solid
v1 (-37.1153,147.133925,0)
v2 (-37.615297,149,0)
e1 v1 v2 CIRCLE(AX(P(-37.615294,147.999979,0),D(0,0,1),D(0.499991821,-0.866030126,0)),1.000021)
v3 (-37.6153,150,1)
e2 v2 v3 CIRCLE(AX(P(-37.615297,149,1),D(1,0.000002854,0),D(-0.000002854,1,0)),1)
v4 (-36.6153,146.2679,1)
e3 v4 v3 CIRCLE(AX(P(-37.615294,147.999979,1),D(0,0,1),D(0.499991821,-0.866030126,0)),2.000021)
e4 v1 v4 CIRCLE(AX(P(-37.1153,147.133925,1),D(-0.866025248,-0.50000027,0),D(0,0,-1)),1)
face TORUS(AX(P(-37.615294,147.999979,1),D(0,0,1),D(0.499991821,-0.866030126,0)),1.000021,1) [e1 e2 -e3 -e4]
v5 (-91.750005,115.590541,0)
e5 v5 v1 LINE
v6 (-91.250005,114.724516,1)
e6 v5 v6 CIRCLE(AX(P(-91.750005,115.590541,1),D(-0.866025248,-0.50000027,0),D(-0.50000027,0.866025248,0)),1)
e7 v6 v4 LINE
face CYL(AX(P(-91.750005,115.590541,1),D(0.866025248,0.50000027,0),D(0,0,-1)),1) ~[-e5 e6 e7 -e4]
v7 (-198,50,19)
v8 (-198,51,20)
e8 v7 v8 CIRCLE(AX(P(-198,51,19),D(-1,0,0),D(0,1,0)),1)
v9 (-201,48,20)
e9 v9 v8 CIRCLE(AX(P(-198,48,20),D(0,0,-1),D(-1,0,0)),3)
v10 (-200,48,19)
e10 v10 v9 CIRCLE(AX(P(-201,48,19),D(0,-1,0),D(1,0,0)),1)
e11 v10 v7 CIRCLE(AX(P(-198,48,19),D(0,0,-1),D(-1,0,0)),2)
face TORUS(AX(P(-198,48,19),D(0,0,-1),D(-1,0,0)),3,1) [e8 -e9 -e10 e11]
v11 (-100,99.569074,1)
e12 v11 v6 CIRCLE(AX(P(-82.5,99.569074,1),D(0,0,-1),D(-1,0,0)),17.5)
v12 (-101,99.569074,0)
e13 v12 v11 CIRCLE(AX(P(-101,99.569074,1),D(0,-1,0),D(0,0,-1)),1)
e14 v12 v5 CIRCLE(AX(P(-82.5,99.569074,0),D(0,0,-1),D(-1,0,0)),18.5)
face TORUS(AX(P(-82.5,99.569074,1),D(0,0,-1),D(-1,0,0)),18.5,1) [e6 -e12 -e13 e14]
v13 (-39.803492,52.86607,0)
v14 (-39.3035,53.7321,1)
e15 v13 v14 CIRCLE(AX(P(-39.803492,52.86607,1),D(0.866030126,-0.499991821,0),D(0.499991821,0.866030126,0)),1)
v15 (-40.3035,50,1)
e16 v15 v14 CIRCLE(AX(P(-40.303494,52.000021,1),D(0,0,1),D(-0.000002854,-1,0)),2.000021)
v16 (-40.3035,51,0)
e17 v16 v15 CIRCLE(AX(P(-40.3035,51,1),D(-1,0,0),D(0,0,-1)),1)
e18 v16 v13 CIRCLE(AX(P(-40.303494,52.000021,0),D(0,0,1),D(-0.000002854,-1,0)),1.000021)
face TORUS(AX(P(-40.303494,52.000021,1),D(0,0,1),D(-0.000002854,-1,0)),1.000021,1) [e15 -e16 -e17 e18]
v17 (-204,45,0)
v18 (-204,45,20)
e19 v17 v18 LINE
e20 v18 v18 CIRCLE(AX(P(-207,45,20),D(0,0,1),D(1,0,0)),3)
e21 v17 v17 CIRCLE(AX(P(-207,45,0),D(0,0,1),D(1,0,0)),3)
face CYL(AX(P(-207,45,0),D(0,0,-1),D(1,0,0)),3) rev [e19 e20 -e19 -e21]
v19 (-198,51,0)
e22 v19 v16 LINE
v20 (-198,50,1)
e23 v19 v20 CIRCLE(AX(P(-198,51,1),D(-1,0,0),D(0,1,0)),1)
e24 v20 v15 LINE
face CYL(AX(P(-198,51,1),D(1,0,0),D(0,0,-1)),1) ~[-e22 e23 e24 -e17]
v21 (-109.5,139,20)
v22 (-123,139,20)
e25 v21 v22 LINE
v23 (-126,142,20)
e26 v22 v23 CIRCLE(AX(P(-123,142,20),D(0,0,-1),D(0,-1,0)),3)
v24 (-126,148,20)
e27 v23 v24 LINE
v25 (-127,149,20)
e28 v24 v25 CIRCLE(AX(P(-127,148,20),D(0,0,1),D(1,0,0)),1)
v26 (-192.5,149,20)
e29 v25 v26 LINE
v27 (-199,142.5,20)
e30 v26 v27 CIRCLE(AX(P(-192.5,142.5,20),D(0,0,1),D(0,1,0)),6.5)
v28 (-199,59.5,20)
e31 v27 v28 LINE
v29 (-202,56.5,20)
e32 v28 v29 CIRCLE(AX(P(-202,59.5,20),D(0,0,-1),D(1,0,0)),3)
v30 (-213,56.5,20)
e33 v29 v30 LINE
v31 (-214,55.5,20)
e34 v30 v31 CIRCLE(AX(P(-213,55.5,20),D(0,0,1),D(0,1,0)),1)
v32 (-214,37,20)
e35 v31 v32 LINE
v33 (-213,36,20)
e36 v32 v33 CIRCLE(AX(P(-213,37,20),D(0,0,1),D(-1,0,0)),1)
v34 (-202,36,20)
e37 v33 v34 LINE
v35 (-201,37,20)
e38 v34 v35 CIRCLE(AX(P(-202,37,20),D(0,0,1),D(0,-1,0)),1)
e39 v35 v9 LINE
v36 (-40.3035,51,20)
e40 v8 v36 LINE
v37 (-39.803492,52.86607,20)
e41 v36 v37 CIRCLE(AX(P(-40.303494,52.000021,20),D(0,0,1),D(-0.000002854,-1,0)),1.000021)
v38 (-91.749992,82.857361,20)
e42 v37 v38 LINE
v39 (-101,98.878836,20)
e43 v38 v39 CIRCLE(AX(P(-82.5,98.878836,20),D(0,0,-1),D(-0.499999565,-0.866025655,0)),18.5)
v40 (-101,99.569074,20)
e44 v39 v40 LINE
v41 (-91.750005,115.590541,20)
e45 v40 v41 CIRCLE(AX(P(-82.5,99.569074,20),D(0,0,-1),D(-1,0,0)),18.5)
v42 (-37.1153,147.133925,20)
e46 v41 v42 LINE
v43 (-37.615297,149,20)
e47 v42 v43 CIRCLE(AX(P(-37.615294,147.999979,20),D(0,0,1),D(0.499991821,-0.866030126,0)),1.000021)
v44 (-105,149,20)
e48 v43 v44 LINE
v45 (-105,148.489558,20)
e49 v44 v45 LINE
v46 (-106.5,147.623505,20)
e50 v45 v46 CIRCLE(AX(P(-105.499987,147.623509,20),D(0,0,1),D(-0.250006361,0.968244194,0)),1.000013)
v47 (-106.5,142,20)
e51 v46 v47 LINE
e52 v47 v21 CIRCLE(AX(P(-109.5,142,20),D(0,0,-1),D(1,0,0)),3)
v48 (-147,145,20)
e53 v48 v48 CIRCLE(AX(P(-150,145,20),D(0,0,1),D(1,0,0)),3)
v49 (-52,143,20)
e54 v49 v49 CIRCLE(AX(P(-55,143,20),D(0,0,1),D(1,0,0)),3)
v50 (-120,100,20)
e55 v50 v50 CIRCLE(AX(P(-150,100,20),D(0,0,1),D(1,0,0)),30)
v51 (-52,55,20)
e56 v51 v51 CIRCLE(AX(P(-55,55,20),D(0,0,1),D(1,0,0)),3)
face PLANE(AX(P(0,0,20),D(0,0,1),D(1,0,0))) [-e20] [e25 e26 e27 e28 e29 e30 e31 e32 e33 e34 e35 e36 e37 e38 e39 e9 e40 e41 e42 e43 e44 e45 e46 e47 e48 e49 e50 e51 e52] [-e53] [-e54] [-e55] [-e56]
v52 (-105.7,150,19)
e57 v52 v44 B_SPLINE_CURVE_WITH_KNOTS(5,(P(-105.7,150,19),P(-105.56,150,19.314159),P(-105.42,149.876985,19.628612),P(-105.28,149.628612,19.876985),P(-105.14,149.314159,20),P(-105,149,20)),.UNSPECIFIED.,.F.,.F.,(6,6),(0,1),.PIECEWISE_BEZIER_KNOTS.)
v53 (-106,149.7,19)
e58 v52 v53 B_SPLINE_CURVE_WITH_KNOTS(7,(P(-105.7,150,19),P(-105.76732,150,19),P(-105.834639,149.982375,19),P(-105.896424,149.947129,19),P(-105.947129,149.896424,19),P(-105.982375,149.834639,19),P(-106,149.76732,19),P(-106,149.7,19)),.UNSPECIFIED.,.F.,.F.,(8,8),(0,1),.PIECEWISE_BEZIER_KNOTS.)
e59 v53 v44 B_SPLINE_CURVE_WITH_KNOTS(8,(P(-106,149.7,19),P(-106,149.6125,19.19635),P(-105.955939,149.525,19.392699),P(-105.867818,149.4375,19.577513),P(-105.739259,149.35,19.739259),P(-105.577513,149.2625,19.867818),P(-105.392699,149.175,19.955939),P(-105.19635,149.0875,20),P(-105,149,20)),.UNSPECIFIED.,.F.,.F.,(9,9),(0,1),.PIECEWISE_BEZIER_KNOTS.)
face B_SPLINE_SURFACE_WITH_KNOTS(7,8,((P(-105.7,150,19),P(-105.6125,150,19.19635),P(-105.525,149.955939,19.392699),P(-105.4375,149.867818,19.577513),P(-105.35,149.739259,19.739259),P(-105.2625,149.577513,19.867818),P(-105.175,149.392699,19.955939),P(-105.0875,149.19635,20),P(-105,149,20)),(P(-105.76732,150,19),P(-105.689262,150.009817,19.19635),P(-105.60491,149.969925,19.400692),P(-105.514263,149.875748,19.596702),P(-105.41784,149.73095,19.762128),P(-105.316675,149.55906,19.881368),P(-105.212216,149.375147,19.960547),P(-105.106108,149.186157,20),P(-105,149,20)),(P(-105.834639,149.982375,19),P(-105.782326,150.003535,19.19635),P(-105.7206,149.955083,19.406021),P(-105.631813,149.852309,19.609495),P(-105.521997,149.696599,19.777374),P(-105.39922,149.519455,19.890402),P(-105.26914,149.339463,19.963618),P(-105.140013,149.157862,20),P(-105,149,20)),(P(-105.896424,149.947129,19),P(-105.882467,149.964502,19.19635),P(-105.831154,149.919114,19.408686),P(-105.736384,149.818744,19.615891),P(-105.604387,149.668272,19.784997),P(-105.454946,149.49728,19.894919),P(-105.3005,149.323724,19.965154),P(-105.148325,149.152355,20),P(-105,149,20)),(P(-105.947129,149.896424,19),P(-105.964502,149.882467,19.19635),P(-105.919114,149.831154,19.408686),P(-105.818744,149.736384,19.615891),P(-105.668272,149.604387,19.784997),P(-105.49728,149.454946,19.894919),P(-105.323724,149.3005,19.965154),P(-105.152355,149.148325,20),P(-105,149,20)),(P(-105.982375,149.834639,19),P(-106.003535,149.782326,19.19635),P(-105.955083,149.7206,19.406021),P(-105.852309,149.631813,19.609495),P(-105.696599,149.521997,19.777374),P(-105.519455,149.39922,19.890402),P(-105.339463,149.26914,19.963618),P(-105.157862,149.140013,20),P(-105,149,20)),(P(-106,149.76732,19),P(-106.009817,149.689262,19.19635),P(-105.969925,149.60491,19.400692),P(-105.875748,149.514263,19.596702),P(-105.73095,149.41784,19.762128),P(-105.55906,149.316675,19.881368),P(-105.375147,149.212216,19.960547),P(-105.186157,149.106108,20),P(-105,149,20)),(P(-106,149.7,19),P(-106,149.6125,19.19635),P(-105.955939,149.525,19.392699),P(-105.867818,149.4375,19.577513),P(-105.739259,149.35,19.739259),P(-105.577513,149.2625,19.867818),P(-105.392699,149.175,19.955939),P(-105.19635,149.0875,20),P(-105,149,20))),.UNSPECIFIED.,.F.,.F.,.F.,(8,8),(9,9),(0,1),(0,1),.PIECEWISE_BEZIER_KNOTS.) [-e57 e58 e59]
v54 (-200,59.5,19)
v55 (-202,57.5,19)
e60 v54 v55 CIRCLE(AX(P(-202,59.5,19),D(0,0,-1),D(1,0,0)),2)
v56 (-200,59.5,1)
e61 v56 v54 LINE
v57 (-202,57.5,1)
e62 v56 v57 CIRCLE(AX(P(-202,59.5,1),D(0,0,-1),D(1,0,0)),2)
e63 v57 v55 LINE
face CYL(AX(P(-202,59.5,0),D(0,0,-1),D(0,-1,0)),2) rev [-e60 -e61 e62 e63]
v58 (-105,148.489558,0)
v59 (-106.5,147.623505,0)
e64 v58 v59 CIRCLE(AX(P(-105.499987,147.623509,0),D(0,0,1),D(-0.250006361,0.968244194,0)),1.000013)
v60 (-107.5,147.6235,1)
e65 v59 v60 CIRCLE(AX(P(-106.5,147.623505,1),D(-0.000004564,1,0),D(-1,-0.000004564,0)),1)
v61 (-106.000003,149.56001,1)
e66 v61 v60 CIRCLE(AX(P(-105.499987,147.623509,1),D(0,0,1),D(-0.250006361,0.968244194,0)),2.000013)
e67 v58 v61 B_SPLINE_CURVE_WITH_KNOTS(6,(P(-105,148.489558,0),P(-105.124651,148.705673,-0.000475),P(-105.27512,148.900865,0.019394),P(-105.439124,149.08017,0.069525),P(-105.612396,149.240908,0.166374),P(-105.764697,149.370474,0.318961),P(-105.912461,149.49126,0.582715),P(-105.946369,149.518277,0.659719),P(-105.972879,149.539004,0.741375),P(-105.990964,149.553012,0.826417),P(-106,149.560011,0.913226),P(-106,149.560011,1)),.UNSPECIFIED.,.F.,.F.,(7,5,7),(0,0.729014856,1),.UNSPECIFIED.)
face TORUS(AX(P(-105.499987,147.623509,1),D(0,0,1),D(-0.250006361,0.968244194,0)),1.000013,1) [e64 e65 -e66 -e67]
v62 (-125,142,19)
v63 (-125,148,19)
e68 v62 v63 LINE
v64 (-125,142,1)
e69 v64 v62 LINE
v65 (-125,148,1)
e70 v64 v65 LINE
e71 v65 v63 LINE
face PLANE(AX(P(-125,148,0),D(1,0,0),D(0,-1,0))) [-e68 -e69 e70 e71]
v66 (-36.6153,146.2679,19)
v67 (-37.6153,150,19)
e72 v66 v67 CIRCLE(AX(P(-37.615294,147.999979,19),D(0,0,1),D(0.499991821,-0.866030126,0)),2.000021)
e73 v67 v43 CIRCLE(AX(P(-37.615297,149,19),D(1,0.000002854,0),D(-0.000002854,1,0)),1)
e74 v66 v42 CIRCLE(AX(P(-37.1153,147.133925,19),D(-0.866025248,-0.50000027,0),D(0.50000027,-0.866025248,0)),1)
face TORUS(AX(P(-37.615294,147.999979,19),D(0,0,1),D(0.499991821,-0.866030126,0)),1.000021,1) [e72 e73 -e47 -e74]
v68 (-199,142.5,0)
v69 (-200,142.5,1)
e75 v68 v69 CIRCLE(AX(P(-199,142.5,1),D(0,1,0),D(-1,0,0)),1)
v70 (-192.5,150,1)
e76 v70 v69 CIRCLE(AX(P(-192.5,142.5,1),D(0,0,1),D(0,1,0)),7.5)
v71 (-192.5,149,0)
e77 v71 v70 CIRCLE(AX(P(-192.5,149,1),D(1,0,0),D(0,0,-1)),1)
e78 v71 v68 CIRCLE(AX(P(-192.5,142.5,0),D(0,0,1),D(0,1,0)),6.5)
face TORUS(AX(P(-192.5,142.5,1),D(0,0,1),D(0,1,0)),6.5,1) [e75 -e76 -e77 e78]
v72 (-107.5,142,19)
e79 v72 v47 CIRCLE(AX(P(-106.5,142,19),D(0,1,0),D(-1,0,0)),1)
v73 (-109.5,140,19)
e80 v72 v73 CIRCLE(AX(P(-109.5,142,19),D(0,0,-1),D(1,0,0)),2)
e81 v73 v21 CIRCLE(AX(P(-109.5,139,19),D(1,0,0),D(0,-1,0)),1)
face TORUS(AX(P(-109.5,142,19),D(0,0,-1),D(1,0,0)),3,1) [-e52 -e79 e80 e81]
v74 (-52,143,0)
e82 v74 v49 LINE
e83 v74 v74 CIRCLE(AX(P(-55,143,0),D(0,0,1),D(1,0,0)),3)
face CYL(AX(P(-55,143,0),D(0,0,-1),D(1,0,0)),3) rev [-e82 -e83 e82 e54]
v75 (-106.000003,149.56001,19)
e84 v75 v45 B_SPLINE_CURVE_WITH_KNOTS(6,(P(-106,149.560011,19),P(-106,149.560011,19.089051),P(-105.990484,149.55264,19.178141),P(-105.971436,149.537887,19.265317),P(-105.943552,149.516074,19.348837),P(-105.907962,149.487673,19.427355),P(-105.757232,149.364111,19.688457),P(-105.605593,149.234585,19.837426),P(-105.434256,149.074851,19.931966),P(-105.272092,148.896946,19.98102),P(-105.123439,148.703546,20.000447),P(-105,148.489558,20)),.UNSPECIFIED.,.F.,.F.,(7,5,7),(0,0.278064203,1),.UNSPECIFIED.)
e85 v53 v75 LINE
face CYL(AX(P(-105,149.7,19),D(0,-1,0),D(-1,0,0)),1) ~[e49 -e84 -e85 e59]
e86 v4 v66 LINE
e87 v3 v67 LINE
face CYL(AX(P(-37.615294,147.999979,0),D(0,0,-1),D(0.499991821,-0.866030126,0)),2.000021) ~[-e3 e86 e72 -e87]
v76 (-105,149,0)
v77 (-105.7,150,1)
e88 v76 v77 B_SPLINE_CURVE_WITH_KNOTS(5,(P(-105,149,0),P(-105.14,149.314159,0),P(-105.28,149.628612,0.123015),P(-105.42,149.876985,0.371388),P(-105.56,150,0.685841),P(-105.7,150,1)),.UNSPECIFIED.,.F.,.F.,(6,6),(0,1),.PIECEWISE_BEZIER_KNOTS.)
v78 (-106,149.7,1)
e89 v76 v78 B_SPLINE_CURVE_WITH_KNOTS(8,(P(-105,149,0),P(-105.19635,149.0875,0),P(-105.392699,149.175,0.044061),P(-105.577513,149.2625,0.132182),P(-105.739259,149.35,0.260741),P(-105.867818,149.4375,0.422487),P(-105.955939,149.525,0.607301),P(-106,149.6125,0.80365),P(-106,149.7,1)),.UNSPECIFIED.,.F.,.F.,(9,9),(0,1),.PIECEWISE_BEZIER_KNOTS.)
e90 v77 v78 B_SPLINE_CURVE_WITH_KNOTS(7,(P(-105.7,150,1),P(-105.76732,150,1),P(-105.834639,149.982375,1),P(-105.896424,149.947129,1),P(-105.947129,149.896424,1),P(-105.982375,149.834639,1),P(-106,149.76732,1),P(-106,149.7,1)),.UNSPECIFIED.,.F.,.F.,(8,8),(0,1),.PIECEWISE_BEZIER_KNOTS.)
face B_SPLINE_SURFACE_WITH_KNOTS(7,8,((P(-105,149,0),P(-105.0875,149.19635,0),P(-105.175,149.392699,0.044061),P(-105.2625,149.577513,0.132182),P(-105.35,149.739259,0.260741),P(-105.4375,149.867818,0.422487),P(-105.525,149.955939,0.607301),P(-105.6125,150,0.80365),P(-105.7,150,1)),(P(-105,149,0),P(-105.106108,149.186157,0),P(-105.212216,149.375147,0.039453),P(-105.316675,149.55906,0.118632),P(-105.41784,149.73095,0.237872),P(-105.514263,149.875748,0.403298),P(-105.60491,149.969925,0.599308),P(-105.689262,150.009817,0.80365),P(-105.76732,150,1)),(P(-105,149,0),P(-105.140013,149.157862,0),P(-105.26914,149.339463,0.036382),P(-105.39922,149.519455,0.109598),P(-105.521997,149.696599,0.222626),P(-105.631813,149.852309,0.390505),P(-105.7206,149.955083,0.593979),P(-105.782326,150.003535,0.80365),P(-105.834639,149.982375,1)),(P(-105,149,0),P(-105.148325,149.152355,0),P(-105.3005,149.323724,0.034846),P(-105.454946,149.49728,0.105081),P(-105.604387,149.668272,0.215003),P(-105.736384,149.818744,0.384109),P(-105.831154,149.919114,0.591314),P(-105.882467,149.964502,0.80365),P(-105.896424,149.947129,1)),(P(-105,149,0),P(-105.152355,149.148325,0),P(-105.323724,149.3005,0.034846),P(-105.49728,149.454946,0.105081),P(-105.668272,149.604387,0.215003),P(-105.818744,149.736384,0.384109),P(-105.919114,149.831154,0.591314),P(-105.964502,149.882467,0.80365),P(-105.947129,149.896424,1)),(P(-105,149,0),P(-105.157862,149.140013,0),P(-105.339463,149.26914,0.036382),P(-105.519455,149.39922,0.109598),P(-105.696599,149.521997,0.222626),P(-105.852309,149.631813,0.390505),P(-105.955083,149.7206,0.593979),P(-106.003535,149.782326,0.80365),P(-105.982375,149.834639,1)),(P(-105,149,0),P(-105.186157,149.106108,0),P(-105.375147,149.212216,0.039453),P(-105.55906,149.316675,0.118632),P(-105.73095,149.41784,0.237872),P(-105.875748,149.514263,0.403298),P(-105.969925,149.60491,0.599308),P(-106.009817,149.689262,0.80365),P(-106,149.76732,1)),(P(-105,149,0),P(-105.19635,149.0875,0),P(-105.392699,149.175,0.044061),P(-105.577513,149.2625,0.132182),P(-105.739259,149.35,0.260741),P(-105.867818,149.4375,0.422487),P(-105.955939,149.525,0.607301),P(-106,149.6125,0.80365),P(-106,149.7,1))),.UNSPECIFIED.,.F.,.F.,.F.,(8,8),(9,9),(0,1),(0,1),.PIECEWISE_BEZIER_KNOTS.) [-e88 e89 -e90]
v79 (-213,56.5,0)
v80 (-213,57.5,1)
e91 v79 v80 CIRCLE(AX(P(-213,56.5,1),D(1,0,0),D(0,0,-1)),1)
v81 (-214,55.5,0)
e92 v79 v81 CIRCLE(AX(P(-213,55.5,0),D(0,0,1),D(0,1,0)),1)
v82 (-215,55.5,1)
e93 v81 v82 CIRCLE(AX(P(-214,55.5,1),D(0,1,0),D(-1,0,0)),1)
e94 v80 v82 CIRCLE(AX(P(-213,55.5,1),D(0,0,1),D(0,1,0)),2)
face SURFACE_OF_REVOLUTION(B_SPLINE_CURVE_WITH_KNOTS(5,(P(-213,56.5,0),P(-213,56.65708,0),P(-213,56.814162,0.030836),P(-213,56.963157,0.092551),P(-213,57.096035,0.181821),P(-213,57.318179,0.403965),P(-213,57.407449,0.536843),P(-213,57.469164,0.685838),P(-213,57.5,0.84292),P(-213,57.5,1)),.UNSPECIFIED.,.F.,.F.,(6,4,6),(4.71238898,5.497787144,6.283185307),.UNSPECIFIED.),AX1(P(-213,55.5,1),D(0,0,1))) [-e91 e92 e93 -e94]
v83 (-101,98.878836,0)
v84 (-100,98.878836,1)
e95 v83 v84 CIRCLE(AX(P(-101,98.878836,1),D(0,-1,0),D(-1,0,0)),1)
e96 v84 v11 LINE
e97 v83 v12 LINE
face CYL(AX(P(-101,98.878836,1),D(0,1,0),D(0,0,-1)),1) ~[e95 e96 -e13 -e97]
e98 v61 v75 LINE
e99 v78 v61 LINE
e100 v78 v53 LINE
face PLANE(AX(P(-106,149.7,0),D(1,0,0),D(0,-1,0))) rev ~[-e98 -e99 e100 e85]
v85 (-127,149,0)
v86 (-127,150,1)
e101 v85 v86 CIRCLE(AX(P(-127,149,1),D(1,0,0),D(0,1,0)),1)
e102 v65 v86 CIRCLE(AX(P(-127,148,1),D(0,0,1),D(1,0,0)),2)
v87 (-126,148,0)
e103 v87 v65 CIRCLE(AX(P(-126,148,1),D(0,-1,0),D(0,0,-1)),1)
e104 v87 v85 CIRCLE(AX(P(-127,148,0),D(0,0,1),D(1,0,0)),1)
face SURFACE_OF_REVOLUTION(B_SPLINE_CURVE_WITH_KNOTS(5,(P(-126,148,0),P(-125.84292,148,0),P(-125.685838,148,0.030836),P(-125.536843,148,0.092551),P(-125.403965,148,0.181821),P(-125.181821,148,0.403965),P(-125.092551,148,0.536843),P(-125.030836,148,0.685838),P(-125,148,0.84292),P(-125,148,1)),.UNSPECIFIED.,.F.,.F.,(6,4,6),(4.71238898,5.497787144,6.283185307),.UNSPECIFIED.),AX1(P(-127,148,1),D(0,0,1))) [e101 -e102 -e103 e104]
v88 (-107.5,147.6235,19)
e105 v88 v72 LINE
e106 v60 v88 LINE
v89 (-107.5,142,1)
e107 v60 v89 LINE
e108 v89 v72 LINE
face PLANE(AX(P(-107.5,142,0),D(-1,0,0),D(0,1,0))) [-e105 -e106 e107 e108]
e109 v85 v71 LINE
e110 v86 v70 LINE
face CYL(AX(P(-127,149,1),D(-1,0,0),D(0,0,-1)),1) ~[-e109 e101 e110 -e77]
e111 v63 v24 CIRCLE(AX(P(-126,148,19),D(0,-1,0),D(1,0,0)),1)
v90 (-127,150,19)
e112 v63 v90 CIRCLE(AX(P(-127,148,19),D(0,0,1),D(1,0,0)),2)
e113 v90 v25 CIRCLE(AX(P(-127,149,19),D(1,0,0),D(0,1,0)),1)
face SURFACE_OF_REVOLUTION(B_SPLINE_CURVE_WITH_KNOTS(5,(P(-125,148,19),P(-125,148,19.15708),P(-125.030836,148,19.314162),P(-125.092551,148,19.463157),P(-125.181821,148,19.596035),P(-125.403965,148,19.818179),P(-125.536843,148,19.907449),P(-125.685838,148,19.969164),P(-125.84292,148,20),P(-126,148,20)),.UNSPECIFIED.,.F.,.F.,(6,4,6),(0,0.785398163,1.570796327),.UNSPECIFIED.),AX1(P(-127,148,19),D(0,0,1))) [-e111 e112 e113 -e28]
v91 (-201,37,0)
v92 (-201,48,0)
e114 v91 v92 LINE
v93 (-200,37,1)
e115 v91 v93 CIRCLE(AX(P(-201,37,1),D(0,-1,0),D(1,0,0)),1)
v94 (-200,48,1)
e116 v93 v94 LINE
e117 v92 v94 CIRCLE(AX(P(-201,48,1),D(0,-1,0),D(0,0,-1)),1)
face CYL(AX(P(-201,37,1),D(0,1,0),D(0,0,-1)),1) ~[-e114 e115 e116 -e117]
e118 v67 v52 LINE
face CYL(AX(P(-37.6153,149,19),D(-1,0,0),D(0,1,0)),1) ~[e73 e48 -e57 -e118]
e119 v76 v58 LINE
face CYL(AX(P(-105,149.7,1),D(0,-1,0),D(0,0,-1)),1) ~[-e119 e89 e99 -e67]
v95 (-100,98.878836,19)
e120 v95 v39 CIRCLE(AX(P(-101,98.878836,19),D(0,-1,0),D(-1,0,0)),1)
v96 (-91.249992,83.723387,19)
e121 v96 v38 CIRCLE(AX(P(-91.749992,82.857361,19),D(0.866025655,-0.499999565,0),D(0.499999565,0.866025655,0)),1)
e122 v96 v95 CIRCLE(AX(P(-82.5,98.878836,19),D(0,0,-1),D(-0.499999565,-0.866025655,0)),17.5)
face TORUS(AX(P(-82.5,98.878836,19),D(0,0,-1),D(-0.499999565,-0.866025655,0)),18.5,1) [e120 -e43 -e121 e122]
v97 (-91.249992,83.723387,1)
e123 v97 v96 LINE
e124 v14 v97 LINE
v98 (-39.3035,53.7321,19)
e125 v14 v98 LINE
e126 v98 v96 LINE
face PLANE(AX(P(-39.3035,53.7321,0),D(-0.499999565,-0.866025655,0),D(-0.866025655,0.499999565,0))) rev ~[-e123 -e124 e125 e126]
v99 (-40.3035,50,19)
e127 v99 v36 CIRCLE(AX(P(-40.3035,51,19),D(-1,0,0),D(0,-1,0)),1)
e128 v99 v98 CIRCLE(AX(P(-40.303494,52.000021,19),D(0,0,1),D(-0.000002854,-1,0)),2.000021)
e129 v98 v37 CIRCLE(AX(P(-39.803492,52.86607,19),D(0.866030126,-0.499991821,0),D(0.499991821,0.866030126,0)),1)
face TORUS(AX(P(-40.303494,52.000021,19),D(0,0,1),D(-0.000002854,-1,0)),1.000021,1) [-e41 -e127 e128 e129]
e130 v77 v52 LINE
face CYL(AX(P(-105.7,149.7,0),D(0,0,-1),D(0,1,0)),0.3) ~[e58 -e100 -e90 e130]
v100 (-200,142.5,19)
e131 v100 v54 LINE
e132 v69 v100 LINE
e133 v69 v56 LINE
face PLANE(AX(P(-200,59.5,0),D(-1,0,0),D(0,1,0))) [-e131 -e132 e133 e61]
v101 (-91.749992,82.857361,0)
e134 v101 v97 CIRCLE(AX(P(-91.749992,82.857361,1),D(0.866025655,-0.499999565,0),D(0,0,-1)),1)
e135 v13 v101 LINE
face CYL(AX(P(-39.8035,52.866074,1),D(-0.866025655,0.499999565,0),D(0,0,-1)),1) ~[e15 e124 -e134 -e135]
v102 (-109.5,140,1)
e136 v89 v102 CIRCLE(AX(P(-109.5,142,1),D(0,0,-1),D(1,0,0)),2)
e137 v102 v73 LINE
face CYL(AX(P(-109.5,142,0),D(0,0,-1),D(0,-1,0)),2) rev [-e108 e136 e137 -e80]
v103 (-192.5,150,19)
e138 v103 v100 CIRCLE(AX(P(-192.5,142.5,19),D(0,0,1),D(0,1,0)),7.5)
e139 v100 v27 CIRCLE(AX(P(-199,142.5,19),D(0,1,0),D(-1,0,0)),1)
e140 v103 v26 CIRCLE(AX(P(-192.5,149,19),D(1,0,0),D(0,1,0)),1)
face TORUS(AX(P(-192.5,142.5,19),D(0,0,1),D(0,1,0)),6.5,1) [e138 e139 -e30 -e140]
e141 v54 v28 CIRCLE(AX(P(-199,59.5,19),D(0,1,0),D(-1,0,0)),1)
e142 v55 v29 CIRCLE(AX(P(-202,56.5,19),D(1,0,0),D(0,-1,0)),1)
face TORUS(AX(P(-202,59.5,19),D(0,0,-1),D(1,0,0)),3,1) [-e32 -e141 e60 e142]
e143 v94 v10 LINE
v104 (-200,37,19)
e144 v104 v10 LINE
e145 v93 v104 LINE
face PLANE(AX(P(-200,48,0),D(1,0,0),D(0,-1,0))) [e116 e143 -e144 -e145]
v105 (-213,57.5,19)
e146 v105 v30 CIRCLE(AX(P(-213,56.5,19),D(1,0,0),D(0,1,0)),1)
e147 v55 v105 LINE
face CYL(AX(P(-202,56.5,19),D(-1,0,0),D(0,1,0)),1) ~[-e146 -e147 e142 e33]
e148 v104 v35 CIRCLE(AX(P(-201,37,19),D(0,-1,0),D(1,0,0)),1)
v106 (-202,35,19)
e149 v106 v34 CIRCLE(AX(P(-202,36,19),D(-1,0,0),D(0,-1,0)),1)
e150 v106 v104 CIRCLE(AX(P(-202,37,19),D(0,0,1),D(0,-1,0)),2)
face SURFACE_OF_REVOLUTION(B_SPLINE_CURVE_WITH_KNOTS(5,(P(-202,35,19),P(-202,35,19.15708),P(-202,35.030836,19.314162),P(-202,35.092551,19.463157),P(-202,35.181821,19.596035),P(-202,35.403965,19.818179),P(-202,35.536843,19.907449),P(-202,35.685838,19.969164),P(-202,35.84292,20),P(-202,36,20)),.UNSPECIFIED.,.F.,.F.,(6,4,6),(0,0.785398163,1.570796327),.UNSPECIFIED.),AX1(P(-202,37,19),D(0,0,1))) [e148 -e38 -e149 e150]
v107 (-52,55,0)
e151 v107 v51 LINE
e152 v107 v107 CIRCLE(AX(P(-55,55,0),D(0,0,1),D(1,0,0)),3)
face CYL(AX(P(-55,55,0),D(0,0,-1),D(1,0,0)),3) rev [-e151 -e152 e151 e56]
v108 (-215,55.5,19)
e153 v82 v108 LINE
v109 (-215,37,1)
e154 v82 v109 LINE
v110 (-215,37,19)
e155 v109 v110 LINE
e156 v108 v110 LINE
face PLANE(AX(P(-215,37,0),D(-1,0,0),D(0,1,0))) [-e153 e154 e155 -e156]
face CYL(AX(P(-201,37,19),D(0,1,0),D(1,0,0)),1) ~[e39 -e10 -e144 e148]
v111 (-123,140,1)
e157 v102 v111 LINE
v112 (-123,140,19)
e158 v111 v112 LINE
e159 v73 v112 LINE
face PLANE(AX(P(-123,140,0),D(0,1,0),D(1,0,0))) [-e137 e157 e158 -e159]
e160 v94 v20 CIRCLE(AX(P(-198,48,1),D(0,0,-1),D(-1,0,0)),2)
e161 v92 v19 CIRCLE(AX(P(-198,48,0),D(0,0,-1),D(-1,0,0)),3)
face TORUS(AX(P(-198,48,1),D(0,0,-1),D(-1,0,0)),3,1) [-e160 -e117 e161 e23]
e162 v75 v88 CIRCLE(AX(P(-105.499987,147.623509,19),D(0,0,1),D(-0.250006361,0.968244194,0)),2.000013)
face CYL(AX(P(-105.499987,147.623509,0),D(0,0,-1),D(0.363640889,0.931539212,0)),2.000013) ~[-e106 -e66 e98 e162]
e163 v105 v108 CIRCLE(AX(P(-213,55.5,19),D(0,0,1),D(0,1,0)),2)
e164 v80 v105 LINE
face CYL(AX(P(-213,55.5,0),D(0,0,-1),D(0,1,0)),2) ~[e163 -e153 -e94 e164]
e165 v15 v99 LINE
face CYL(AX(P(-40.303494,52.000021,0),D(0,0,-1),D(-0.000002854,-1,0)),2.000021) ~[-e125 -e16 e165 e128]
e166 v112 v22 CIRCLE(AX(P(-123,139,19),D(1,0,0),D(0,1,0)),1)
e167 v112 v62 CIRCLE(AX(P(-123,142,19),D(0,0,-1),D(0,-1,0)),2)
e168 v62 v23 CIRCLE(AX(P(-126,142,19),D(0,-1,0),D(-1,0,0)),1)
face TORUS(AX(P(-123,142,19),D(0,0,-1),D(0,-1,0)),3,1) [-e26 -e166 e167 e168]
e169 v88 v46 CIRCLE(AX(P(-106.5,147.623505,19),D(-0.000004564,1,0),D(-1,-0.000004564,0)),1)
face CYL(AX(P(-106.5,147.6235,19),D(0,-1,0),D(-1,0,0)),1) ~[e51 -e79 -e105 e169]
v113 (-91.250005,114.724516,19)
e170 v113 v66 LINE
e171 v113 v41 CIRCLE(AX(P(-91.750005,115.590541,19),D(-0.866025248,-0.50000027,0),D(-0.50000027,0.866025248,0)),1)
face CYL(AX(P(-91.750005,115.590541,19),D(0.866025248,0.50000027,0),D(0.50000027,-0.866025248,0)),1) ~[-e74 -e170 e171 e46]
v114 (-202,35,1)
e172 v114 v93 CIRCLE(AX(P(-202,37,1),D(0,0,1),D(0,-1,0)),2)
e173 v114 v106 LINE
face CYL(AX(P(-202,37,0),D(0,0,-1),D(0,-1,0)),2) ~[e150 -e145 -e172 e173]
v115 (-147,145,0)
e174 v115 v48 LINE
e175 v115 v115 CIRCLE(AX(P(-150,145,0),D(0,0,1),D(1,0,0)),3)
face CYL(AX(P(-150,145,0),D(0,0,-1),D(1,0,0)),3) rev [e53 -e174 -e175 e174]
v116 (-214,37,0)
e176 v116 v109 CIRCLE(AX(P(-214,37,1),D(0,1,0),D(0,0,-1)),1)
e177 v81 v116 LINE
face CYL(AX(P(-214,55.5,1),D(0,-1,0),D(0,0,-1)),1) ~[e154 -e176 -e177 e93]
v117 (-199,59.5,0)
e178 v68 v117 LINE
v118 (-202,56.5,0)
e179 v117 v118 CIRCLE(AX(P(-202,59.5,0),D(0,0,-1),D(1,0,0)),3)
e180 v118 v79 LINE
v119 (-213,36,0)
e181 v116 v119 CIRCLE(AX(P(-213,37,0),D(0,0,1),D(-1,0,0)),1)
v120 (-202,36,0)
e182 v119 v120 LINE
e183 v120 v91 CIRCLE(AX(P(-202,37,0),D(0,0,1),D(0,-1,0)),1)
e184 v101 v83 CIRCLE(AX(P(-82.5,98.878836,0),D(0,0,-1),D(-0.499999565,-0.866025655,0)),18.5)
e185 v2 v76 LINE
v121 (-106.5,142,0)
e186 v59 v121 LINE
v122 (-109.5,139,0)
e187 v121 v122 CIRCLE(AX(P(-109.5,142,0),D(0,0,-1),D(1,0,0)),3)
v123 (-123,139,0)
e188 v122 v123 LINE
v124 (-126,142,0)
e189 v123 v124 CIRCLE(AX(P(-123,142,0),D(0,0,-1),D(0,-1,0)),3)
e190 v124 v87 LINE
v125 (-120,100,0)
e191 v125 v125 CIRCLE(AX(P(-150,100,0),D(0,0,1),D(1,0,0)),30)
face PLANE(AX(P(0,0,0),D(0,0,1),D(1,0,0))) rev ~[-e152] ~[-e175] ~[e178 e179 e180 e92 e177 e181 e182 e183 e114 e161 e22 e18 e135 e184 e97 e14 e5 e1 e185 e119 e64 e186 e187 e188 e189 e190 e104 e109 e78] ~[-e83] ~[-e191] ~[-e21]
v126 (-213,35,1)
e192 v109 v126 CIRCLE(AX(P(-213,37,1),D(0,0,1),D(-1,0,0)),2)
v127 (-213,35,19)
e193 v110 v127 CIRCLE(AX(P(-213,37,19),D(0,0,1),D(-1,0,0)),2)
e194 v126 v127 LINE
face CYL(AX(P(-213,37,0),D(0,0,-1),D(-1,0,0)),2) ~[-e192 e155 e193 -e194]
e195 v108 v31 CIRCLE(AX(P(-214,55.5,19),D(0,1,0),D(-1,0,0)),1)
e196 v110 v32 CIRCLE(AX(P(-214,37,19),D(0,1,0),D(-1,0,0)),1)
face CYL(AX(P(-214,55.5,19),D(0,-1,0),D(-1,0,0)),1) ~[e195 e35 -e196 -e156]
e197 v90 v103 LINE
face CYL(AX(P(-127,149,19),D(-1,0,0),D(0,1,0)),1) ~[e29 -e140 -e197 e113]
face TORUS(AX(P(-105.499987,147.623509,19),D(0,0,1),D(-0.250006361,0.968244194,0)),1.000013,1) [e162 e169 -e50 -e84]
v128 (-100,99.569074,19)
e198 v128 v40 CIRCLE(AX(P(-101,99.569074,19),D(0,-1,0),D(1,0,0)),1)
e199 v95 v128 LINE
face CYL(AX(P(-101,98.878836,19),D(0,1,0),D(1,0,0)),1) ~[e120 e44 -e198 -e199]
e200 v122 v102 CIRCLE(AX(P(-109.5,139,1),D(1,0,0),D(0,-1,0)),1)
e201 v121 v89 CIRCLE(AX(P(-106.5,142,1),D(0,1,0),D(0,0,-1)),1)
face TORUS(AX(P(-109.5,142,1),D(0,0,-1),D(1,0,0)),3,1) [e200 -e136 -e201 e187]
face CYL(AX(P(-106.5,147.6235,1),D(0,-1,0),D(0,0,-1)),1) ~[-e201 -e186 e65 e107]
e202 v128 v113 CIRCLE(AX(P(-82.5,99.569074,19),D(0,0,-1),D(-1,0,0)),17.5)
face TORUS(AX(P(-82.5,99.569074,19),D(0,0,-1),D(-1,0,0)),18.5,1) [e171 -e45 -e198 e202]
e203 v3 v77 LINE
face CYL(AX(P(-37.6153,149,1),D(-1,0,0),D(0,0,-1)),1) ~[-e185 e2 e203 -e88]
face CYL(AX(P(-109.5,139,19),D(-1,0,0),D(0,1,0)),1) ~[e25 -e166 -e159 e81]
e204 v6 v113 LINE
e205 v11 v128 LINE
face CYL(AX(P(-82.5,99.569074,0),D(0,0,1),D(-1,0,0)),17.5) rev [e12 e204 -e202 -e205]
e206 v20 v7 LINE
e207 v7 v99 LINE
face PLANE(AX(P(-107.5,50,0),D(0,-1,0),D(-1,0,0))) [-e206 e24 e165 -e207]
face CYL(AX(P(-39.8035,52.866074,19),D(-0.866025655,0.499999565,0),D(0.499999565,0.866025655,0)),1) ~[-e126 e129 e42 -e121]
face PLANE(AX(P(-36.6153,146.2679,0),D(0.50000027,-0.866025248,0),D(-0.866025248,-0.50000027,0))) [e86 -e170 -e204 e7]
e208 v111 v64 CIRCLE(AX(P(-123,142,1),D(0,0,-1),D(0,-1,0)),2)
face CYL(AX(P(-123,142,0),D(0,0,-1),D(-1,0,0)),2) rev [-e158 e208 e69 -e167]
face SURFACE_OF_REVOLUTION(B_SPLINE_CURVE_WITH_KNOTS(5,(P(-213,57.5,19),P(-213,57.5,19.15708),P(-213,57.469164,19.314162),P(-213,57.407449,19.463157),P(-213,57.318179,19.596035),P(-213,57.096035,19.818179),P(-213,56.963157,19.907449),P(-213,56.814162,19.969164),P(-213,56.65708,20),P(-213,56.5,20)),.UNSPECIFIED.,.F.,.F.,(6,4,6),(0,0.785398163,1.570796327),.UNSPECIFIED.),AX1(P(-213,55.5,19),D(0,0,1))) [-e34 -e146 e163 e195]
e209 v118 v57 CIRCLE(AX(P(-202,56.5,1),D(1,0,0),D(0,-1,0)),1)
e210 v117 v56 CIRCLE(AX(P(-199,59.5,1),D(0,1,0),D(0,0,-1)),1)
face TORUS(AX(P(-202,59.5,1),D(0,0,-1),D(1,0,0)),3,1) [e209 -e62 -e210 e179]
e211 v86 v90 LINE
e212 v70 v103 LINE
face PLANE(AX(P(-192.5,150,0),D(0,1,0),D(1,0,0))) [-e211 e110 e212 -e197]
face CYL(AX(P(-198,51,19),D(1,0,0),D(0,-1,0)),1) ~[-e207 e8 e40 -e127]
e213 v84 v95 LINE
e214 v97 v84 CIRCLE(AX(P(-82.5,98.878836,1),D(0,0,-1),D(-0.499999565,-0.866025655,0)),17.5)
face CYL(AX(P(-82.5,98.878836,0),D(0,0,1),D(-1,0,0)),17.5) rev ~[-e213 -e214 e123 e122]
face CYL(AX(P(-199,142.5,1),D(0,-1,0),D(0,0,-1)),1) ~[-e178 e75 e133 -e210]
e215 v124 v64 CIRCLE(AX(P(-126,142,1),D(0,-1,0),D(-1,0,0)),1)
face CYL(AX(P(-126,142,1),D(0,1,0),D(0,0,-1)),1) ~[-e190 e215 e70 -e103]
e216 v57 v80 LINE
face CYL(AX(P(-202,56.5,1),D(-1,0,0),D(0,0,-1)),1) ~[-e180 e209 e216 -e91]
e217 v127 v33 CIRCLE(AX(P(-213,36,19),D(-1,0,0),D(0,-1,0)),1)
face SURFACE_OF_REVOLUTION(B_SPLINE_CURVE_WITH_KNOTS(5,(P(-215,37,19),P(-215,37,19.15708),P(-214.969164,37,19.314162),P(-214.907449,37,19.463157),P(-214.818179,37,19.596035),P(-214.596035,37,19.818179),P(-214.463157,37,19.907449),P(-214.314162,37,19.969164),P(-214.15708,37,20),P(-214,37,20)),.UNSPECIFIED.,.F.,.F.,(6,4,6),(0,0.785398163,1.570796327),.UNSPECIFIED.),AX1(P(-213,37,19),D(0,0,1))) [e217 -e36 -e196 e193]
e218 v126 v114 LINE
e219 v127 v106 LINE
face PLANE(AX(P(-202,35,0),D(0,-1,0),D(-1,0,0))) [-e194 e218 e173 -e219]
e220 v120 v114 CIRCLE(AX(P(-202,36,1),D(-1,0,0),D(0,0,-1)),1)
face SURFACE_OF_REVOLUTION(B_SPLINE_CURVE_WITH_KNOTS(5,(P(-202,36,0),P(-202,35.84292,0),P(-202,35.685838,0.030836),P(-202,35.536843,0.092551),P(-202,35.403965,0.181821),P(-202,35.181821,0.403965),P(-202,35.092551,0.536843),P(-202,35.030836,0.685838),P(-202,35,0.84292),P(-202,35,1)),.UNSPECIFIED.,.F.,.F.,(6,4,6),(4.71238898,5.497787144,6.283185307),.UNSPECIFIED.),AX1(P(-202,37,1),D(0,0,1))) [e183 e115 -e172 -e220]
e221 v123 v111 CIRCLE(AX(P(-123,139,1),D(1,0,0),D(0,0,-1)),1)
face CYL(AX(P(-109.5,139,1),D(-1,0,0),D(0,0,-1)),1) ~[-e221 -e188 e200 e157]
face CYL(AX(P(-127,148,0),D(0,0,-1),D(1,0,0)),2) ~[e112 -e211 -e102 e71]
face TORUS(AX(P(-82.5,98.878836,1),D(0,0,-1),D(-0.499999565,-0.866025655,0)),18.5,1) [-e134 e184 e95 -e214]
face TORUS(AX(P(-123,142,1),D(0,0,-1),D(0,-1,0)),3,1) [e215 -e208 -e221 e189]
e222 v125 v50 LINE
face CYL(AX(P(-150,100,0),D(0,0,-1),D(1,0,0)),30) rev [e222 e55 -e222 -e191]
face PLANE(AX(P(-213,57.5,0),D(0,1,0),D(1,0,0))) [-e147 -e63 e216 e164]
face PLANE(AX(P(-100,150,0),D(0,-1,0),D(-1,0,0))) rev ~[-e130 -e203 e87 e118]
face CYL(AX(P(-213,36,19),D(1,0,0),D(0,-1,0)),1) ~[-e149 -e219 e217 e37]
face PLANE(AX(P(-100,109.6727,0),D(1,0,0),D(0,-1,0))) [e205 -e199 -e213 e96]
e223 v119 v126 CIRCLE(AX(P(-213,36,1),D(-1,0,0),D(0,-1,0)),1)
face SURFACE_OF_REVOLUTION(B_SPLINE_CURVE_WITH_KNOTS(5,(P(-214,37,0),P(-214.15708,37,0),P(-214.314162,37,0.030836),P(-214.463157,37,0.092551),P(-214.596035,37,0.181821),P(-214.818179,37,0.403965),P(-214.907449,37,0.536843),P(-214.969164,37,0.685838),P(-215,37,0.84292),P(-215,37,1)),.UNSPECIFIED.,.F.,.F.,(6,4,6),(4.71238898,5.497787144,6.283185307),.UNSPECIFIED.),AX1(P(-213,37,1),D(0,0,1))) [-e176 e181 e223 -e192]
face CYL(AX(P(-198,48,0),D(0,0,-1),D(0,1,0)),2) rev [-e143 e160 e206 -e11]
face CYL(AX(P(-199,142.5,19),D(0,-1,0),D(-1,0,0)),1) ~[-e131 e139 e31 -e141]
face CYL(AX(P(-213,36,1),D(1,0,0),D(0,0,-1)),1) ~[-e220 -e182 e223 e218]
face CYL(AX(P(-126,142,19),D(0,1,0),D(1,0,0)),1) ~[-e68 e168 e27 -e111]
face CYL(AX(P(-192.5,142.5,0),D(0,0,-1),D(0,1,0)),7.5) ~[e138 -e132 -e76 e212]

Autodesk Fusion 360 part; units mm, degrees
sketch "Sketch1" plane through (0, 0, 0) normal (0, 0, 1) x (1, 0, 0)
  circle A0 centre (-150, 100) radius 40
  circle A1 centre (-150, 100) radius 30
  line L0 (-100, 142.5) -> (-100, 57.5)
  line L1 (-107.5, 50) -> (-192.5, 50)
  line L2 (-200, 59.5) -> (-200, 142.5)
  line L3 (-100, 150) -> (-37.6153, 150)
  line L4 (-36.6153, 146.2679) -> (-100, 109.6727)
  line L5 (-100, 50) -> (-40.3035, 50)
  line L6 (-39.3035, 53.7321) -> (-100, 88.7752)
  arc A2 (-36.6153, 146.2679) -> (-37.6153, 150) centre (-37.6153, 148) ccw
  arc A3 (-40.3035, 50) -> (-39.3035, 53.7321) centre (-40.3035, 52) ccw
  arc A4 (-192.5, 150) -> (-200, 142.5) centre (-192.5, 142.5) ccw
  arc A5 (-107.5, 50) -> (-100, 57.5) centre (-107.5, 57.5) ccw
  line L7 (-100, 50) -> (-107.5, 50)
  arc A6 (-100, 142.5) -> (-104.7727, 149.4866) centre (-107.5, 142.5) ccw
  line L8 (-192.5, 50) -> (-198, 50)
  line L9 (-200, 48) -> (-200, 37)
  line L10 (-202, 35) -> (-213, 35)
  line L11 (-215, 37) -> (-215, 55.5)
  line L12 (-213, 57.5) -> (-202, 57.5)
  arc A7 (-202, 35) -> (-200, 37) centre (-202, 37) ccw
  arc A8 (-215, 37) -> (-213, 35) centre (-213, 37) ccw
  arc A9 (-213, 57.5) -> (-215, 55.5) centre (-213, 55.5) ccw
  arc A10 (-202, 57.5) -> (-200, 59.5) centre (-202, 59.5) ccw
  arc A11 (-198, 50) -> (-200, 48) centre (-198, 48) ccw
  line L13 (-192.5, 150) -> (-127, 150)
  line L14 (-125, 148) -> (-125, 142)
  line L15 (-123, 140) -> (-109.5, 140)
  line L16 (-107.5, 142) -> (-107.5, 147.6235)
  arc A12 (-125, 142) -> (-123, 140) centre (-123, 142) ccw
  arc A13 (-109.5, 140) -> (-107.5, 142) centre (-109.5, 142) ccw
  arc A14 (-104.7727, 149.4866) -> (-107.5, 147.6235) centre (-105.5, 147.6235) ccw
  arc A15 (-125, 148) -> (-127, 150) centre (-127, 148) ccw
  circle A16 centre (-150, 145) radius 3
  circle A17 centre (-207, 45) radius 3
  circle A18 centre (-55, 55) radius 3
  circle A19 centre (-55, 143) radius 3
  line L17 (-100, 150) -> (-105.7, 150)
  line L18 (-106, 149.7) -> (-106, 149.56)
  arc A20 (-105.7, 150) -> (-106, 149.7) centre (-105.7, 149.7) ccw
  dimension "d1" = 80
  dimension "d2" = 60
  dimension "d3" = 60
  dimension "d4" = 2
  dimension "d5" = 2
  dimension "d6" = 7.5
  dimension "d8" = 7.5
  dimension "d9" = 7.5
  dimension "d10" = 2
  dimension "d11" = 2
  dimension "d12" = 2
  dimension "d13" = 2
  dimension "d14" = 2
  dimension "d15" = 2
  dimension "d16" = 2
  dimension "d17" = 2
  dimension "d18" = 2
  dimension "d19" = 0.3
extrude "Extrude1" add sketch "Sketch1" along normal blind 20 contours A0 | L0 L3 L4 A2 A6 A14 L17 L18 A20 | L0 L1 L2 A4 A5 A6 L8 L9 L10 L11 L12 A7 A8 A9 A10 A11 L13 L14 L15 L16 A12 A13 A14 A15 | L0 L5 L6 A3 A5 L7
fillet "Fillet1" radius 17.5 2 edges at (-100, 109.6727, 10) (-100, 88.7752, 10)
fillet "Fillet2" radius 1 60 edges at (-107.0811, 148.8482, 0) (-107.5, 144.8117, 0) (-108.0858, 140.5858, 0) (-116.25, 140, 0) (-124.4142, 140.5858, 0) (-125, 145, 0) (-125.5858, 149.4142, 0) (-159.75, 150, 0) (-197.8033, 147.8033, 0) (-200, 101, 0) (-200.5858, 58.0858, 0) (-207.5, 57.5, 0) (-214.4142, 56.9142, 0) (-215, 46.25, 0) (-214.4142, 35.5858, 0) (-207.5, 35, 0) (-200.5858, 35.5858, 0) (-200, 42.5, 0) (-199.4142, 49.4142, 0) (-119.1518, 50, 0) (-38.3717, 51.4824, 0) (-65.2768, 68.7277, 0) (-97.6554, 90.1288, 0) (-100, 99.224, 0) (-97.6554, 108.3191, 0) (-63.9326, 130.4963, 0) (-35.6834, 148.5176, 0) (-71.6576, 150, 0) (-105.9121, 149.9121, 0) (-106, 149.63, 0) (-107.0811, 148.8482, 20) (-107.5, 144.8117, 20) (-108.0858, 140.5858, 20) (-116.25, 140, 20) (-124.4142, 140.5858, 20) (-125, 145, 20) (-125.5858, 149.4142, 20) (-159.75, 150, 20) (-197.8033, 147.8033, 20) (-200, 101, 20) (-200.5858, 58.0858, 20) (-207.5, 57.5, 20) (-214.4142, 56.9142, 20) (-215, 46.25, 20) (-214.4142, 35.5858, 20) (-207.5, 35, 20) (-200.5858, 35.5858, 20) (-200, 42.5, 20) (-199.4142, 49.4142, 20) (-119.1518, 50, 20) (-38.3717, 51.4824, 20) (-65.2768, 68.7277, 20) (-97.6554, 90.1288, 20) (-100, 99.224, 20) (-97.6554, 108.3191, 20) (-63.9326, 130.4963, 20) (-35.6834, 148.5176, 20) (-71.6576, 150, 20) (-105.9121, 149.9121, 20) (-106, 149.63, 20)
thread "Thread1" thread offset 0 thread length 10
